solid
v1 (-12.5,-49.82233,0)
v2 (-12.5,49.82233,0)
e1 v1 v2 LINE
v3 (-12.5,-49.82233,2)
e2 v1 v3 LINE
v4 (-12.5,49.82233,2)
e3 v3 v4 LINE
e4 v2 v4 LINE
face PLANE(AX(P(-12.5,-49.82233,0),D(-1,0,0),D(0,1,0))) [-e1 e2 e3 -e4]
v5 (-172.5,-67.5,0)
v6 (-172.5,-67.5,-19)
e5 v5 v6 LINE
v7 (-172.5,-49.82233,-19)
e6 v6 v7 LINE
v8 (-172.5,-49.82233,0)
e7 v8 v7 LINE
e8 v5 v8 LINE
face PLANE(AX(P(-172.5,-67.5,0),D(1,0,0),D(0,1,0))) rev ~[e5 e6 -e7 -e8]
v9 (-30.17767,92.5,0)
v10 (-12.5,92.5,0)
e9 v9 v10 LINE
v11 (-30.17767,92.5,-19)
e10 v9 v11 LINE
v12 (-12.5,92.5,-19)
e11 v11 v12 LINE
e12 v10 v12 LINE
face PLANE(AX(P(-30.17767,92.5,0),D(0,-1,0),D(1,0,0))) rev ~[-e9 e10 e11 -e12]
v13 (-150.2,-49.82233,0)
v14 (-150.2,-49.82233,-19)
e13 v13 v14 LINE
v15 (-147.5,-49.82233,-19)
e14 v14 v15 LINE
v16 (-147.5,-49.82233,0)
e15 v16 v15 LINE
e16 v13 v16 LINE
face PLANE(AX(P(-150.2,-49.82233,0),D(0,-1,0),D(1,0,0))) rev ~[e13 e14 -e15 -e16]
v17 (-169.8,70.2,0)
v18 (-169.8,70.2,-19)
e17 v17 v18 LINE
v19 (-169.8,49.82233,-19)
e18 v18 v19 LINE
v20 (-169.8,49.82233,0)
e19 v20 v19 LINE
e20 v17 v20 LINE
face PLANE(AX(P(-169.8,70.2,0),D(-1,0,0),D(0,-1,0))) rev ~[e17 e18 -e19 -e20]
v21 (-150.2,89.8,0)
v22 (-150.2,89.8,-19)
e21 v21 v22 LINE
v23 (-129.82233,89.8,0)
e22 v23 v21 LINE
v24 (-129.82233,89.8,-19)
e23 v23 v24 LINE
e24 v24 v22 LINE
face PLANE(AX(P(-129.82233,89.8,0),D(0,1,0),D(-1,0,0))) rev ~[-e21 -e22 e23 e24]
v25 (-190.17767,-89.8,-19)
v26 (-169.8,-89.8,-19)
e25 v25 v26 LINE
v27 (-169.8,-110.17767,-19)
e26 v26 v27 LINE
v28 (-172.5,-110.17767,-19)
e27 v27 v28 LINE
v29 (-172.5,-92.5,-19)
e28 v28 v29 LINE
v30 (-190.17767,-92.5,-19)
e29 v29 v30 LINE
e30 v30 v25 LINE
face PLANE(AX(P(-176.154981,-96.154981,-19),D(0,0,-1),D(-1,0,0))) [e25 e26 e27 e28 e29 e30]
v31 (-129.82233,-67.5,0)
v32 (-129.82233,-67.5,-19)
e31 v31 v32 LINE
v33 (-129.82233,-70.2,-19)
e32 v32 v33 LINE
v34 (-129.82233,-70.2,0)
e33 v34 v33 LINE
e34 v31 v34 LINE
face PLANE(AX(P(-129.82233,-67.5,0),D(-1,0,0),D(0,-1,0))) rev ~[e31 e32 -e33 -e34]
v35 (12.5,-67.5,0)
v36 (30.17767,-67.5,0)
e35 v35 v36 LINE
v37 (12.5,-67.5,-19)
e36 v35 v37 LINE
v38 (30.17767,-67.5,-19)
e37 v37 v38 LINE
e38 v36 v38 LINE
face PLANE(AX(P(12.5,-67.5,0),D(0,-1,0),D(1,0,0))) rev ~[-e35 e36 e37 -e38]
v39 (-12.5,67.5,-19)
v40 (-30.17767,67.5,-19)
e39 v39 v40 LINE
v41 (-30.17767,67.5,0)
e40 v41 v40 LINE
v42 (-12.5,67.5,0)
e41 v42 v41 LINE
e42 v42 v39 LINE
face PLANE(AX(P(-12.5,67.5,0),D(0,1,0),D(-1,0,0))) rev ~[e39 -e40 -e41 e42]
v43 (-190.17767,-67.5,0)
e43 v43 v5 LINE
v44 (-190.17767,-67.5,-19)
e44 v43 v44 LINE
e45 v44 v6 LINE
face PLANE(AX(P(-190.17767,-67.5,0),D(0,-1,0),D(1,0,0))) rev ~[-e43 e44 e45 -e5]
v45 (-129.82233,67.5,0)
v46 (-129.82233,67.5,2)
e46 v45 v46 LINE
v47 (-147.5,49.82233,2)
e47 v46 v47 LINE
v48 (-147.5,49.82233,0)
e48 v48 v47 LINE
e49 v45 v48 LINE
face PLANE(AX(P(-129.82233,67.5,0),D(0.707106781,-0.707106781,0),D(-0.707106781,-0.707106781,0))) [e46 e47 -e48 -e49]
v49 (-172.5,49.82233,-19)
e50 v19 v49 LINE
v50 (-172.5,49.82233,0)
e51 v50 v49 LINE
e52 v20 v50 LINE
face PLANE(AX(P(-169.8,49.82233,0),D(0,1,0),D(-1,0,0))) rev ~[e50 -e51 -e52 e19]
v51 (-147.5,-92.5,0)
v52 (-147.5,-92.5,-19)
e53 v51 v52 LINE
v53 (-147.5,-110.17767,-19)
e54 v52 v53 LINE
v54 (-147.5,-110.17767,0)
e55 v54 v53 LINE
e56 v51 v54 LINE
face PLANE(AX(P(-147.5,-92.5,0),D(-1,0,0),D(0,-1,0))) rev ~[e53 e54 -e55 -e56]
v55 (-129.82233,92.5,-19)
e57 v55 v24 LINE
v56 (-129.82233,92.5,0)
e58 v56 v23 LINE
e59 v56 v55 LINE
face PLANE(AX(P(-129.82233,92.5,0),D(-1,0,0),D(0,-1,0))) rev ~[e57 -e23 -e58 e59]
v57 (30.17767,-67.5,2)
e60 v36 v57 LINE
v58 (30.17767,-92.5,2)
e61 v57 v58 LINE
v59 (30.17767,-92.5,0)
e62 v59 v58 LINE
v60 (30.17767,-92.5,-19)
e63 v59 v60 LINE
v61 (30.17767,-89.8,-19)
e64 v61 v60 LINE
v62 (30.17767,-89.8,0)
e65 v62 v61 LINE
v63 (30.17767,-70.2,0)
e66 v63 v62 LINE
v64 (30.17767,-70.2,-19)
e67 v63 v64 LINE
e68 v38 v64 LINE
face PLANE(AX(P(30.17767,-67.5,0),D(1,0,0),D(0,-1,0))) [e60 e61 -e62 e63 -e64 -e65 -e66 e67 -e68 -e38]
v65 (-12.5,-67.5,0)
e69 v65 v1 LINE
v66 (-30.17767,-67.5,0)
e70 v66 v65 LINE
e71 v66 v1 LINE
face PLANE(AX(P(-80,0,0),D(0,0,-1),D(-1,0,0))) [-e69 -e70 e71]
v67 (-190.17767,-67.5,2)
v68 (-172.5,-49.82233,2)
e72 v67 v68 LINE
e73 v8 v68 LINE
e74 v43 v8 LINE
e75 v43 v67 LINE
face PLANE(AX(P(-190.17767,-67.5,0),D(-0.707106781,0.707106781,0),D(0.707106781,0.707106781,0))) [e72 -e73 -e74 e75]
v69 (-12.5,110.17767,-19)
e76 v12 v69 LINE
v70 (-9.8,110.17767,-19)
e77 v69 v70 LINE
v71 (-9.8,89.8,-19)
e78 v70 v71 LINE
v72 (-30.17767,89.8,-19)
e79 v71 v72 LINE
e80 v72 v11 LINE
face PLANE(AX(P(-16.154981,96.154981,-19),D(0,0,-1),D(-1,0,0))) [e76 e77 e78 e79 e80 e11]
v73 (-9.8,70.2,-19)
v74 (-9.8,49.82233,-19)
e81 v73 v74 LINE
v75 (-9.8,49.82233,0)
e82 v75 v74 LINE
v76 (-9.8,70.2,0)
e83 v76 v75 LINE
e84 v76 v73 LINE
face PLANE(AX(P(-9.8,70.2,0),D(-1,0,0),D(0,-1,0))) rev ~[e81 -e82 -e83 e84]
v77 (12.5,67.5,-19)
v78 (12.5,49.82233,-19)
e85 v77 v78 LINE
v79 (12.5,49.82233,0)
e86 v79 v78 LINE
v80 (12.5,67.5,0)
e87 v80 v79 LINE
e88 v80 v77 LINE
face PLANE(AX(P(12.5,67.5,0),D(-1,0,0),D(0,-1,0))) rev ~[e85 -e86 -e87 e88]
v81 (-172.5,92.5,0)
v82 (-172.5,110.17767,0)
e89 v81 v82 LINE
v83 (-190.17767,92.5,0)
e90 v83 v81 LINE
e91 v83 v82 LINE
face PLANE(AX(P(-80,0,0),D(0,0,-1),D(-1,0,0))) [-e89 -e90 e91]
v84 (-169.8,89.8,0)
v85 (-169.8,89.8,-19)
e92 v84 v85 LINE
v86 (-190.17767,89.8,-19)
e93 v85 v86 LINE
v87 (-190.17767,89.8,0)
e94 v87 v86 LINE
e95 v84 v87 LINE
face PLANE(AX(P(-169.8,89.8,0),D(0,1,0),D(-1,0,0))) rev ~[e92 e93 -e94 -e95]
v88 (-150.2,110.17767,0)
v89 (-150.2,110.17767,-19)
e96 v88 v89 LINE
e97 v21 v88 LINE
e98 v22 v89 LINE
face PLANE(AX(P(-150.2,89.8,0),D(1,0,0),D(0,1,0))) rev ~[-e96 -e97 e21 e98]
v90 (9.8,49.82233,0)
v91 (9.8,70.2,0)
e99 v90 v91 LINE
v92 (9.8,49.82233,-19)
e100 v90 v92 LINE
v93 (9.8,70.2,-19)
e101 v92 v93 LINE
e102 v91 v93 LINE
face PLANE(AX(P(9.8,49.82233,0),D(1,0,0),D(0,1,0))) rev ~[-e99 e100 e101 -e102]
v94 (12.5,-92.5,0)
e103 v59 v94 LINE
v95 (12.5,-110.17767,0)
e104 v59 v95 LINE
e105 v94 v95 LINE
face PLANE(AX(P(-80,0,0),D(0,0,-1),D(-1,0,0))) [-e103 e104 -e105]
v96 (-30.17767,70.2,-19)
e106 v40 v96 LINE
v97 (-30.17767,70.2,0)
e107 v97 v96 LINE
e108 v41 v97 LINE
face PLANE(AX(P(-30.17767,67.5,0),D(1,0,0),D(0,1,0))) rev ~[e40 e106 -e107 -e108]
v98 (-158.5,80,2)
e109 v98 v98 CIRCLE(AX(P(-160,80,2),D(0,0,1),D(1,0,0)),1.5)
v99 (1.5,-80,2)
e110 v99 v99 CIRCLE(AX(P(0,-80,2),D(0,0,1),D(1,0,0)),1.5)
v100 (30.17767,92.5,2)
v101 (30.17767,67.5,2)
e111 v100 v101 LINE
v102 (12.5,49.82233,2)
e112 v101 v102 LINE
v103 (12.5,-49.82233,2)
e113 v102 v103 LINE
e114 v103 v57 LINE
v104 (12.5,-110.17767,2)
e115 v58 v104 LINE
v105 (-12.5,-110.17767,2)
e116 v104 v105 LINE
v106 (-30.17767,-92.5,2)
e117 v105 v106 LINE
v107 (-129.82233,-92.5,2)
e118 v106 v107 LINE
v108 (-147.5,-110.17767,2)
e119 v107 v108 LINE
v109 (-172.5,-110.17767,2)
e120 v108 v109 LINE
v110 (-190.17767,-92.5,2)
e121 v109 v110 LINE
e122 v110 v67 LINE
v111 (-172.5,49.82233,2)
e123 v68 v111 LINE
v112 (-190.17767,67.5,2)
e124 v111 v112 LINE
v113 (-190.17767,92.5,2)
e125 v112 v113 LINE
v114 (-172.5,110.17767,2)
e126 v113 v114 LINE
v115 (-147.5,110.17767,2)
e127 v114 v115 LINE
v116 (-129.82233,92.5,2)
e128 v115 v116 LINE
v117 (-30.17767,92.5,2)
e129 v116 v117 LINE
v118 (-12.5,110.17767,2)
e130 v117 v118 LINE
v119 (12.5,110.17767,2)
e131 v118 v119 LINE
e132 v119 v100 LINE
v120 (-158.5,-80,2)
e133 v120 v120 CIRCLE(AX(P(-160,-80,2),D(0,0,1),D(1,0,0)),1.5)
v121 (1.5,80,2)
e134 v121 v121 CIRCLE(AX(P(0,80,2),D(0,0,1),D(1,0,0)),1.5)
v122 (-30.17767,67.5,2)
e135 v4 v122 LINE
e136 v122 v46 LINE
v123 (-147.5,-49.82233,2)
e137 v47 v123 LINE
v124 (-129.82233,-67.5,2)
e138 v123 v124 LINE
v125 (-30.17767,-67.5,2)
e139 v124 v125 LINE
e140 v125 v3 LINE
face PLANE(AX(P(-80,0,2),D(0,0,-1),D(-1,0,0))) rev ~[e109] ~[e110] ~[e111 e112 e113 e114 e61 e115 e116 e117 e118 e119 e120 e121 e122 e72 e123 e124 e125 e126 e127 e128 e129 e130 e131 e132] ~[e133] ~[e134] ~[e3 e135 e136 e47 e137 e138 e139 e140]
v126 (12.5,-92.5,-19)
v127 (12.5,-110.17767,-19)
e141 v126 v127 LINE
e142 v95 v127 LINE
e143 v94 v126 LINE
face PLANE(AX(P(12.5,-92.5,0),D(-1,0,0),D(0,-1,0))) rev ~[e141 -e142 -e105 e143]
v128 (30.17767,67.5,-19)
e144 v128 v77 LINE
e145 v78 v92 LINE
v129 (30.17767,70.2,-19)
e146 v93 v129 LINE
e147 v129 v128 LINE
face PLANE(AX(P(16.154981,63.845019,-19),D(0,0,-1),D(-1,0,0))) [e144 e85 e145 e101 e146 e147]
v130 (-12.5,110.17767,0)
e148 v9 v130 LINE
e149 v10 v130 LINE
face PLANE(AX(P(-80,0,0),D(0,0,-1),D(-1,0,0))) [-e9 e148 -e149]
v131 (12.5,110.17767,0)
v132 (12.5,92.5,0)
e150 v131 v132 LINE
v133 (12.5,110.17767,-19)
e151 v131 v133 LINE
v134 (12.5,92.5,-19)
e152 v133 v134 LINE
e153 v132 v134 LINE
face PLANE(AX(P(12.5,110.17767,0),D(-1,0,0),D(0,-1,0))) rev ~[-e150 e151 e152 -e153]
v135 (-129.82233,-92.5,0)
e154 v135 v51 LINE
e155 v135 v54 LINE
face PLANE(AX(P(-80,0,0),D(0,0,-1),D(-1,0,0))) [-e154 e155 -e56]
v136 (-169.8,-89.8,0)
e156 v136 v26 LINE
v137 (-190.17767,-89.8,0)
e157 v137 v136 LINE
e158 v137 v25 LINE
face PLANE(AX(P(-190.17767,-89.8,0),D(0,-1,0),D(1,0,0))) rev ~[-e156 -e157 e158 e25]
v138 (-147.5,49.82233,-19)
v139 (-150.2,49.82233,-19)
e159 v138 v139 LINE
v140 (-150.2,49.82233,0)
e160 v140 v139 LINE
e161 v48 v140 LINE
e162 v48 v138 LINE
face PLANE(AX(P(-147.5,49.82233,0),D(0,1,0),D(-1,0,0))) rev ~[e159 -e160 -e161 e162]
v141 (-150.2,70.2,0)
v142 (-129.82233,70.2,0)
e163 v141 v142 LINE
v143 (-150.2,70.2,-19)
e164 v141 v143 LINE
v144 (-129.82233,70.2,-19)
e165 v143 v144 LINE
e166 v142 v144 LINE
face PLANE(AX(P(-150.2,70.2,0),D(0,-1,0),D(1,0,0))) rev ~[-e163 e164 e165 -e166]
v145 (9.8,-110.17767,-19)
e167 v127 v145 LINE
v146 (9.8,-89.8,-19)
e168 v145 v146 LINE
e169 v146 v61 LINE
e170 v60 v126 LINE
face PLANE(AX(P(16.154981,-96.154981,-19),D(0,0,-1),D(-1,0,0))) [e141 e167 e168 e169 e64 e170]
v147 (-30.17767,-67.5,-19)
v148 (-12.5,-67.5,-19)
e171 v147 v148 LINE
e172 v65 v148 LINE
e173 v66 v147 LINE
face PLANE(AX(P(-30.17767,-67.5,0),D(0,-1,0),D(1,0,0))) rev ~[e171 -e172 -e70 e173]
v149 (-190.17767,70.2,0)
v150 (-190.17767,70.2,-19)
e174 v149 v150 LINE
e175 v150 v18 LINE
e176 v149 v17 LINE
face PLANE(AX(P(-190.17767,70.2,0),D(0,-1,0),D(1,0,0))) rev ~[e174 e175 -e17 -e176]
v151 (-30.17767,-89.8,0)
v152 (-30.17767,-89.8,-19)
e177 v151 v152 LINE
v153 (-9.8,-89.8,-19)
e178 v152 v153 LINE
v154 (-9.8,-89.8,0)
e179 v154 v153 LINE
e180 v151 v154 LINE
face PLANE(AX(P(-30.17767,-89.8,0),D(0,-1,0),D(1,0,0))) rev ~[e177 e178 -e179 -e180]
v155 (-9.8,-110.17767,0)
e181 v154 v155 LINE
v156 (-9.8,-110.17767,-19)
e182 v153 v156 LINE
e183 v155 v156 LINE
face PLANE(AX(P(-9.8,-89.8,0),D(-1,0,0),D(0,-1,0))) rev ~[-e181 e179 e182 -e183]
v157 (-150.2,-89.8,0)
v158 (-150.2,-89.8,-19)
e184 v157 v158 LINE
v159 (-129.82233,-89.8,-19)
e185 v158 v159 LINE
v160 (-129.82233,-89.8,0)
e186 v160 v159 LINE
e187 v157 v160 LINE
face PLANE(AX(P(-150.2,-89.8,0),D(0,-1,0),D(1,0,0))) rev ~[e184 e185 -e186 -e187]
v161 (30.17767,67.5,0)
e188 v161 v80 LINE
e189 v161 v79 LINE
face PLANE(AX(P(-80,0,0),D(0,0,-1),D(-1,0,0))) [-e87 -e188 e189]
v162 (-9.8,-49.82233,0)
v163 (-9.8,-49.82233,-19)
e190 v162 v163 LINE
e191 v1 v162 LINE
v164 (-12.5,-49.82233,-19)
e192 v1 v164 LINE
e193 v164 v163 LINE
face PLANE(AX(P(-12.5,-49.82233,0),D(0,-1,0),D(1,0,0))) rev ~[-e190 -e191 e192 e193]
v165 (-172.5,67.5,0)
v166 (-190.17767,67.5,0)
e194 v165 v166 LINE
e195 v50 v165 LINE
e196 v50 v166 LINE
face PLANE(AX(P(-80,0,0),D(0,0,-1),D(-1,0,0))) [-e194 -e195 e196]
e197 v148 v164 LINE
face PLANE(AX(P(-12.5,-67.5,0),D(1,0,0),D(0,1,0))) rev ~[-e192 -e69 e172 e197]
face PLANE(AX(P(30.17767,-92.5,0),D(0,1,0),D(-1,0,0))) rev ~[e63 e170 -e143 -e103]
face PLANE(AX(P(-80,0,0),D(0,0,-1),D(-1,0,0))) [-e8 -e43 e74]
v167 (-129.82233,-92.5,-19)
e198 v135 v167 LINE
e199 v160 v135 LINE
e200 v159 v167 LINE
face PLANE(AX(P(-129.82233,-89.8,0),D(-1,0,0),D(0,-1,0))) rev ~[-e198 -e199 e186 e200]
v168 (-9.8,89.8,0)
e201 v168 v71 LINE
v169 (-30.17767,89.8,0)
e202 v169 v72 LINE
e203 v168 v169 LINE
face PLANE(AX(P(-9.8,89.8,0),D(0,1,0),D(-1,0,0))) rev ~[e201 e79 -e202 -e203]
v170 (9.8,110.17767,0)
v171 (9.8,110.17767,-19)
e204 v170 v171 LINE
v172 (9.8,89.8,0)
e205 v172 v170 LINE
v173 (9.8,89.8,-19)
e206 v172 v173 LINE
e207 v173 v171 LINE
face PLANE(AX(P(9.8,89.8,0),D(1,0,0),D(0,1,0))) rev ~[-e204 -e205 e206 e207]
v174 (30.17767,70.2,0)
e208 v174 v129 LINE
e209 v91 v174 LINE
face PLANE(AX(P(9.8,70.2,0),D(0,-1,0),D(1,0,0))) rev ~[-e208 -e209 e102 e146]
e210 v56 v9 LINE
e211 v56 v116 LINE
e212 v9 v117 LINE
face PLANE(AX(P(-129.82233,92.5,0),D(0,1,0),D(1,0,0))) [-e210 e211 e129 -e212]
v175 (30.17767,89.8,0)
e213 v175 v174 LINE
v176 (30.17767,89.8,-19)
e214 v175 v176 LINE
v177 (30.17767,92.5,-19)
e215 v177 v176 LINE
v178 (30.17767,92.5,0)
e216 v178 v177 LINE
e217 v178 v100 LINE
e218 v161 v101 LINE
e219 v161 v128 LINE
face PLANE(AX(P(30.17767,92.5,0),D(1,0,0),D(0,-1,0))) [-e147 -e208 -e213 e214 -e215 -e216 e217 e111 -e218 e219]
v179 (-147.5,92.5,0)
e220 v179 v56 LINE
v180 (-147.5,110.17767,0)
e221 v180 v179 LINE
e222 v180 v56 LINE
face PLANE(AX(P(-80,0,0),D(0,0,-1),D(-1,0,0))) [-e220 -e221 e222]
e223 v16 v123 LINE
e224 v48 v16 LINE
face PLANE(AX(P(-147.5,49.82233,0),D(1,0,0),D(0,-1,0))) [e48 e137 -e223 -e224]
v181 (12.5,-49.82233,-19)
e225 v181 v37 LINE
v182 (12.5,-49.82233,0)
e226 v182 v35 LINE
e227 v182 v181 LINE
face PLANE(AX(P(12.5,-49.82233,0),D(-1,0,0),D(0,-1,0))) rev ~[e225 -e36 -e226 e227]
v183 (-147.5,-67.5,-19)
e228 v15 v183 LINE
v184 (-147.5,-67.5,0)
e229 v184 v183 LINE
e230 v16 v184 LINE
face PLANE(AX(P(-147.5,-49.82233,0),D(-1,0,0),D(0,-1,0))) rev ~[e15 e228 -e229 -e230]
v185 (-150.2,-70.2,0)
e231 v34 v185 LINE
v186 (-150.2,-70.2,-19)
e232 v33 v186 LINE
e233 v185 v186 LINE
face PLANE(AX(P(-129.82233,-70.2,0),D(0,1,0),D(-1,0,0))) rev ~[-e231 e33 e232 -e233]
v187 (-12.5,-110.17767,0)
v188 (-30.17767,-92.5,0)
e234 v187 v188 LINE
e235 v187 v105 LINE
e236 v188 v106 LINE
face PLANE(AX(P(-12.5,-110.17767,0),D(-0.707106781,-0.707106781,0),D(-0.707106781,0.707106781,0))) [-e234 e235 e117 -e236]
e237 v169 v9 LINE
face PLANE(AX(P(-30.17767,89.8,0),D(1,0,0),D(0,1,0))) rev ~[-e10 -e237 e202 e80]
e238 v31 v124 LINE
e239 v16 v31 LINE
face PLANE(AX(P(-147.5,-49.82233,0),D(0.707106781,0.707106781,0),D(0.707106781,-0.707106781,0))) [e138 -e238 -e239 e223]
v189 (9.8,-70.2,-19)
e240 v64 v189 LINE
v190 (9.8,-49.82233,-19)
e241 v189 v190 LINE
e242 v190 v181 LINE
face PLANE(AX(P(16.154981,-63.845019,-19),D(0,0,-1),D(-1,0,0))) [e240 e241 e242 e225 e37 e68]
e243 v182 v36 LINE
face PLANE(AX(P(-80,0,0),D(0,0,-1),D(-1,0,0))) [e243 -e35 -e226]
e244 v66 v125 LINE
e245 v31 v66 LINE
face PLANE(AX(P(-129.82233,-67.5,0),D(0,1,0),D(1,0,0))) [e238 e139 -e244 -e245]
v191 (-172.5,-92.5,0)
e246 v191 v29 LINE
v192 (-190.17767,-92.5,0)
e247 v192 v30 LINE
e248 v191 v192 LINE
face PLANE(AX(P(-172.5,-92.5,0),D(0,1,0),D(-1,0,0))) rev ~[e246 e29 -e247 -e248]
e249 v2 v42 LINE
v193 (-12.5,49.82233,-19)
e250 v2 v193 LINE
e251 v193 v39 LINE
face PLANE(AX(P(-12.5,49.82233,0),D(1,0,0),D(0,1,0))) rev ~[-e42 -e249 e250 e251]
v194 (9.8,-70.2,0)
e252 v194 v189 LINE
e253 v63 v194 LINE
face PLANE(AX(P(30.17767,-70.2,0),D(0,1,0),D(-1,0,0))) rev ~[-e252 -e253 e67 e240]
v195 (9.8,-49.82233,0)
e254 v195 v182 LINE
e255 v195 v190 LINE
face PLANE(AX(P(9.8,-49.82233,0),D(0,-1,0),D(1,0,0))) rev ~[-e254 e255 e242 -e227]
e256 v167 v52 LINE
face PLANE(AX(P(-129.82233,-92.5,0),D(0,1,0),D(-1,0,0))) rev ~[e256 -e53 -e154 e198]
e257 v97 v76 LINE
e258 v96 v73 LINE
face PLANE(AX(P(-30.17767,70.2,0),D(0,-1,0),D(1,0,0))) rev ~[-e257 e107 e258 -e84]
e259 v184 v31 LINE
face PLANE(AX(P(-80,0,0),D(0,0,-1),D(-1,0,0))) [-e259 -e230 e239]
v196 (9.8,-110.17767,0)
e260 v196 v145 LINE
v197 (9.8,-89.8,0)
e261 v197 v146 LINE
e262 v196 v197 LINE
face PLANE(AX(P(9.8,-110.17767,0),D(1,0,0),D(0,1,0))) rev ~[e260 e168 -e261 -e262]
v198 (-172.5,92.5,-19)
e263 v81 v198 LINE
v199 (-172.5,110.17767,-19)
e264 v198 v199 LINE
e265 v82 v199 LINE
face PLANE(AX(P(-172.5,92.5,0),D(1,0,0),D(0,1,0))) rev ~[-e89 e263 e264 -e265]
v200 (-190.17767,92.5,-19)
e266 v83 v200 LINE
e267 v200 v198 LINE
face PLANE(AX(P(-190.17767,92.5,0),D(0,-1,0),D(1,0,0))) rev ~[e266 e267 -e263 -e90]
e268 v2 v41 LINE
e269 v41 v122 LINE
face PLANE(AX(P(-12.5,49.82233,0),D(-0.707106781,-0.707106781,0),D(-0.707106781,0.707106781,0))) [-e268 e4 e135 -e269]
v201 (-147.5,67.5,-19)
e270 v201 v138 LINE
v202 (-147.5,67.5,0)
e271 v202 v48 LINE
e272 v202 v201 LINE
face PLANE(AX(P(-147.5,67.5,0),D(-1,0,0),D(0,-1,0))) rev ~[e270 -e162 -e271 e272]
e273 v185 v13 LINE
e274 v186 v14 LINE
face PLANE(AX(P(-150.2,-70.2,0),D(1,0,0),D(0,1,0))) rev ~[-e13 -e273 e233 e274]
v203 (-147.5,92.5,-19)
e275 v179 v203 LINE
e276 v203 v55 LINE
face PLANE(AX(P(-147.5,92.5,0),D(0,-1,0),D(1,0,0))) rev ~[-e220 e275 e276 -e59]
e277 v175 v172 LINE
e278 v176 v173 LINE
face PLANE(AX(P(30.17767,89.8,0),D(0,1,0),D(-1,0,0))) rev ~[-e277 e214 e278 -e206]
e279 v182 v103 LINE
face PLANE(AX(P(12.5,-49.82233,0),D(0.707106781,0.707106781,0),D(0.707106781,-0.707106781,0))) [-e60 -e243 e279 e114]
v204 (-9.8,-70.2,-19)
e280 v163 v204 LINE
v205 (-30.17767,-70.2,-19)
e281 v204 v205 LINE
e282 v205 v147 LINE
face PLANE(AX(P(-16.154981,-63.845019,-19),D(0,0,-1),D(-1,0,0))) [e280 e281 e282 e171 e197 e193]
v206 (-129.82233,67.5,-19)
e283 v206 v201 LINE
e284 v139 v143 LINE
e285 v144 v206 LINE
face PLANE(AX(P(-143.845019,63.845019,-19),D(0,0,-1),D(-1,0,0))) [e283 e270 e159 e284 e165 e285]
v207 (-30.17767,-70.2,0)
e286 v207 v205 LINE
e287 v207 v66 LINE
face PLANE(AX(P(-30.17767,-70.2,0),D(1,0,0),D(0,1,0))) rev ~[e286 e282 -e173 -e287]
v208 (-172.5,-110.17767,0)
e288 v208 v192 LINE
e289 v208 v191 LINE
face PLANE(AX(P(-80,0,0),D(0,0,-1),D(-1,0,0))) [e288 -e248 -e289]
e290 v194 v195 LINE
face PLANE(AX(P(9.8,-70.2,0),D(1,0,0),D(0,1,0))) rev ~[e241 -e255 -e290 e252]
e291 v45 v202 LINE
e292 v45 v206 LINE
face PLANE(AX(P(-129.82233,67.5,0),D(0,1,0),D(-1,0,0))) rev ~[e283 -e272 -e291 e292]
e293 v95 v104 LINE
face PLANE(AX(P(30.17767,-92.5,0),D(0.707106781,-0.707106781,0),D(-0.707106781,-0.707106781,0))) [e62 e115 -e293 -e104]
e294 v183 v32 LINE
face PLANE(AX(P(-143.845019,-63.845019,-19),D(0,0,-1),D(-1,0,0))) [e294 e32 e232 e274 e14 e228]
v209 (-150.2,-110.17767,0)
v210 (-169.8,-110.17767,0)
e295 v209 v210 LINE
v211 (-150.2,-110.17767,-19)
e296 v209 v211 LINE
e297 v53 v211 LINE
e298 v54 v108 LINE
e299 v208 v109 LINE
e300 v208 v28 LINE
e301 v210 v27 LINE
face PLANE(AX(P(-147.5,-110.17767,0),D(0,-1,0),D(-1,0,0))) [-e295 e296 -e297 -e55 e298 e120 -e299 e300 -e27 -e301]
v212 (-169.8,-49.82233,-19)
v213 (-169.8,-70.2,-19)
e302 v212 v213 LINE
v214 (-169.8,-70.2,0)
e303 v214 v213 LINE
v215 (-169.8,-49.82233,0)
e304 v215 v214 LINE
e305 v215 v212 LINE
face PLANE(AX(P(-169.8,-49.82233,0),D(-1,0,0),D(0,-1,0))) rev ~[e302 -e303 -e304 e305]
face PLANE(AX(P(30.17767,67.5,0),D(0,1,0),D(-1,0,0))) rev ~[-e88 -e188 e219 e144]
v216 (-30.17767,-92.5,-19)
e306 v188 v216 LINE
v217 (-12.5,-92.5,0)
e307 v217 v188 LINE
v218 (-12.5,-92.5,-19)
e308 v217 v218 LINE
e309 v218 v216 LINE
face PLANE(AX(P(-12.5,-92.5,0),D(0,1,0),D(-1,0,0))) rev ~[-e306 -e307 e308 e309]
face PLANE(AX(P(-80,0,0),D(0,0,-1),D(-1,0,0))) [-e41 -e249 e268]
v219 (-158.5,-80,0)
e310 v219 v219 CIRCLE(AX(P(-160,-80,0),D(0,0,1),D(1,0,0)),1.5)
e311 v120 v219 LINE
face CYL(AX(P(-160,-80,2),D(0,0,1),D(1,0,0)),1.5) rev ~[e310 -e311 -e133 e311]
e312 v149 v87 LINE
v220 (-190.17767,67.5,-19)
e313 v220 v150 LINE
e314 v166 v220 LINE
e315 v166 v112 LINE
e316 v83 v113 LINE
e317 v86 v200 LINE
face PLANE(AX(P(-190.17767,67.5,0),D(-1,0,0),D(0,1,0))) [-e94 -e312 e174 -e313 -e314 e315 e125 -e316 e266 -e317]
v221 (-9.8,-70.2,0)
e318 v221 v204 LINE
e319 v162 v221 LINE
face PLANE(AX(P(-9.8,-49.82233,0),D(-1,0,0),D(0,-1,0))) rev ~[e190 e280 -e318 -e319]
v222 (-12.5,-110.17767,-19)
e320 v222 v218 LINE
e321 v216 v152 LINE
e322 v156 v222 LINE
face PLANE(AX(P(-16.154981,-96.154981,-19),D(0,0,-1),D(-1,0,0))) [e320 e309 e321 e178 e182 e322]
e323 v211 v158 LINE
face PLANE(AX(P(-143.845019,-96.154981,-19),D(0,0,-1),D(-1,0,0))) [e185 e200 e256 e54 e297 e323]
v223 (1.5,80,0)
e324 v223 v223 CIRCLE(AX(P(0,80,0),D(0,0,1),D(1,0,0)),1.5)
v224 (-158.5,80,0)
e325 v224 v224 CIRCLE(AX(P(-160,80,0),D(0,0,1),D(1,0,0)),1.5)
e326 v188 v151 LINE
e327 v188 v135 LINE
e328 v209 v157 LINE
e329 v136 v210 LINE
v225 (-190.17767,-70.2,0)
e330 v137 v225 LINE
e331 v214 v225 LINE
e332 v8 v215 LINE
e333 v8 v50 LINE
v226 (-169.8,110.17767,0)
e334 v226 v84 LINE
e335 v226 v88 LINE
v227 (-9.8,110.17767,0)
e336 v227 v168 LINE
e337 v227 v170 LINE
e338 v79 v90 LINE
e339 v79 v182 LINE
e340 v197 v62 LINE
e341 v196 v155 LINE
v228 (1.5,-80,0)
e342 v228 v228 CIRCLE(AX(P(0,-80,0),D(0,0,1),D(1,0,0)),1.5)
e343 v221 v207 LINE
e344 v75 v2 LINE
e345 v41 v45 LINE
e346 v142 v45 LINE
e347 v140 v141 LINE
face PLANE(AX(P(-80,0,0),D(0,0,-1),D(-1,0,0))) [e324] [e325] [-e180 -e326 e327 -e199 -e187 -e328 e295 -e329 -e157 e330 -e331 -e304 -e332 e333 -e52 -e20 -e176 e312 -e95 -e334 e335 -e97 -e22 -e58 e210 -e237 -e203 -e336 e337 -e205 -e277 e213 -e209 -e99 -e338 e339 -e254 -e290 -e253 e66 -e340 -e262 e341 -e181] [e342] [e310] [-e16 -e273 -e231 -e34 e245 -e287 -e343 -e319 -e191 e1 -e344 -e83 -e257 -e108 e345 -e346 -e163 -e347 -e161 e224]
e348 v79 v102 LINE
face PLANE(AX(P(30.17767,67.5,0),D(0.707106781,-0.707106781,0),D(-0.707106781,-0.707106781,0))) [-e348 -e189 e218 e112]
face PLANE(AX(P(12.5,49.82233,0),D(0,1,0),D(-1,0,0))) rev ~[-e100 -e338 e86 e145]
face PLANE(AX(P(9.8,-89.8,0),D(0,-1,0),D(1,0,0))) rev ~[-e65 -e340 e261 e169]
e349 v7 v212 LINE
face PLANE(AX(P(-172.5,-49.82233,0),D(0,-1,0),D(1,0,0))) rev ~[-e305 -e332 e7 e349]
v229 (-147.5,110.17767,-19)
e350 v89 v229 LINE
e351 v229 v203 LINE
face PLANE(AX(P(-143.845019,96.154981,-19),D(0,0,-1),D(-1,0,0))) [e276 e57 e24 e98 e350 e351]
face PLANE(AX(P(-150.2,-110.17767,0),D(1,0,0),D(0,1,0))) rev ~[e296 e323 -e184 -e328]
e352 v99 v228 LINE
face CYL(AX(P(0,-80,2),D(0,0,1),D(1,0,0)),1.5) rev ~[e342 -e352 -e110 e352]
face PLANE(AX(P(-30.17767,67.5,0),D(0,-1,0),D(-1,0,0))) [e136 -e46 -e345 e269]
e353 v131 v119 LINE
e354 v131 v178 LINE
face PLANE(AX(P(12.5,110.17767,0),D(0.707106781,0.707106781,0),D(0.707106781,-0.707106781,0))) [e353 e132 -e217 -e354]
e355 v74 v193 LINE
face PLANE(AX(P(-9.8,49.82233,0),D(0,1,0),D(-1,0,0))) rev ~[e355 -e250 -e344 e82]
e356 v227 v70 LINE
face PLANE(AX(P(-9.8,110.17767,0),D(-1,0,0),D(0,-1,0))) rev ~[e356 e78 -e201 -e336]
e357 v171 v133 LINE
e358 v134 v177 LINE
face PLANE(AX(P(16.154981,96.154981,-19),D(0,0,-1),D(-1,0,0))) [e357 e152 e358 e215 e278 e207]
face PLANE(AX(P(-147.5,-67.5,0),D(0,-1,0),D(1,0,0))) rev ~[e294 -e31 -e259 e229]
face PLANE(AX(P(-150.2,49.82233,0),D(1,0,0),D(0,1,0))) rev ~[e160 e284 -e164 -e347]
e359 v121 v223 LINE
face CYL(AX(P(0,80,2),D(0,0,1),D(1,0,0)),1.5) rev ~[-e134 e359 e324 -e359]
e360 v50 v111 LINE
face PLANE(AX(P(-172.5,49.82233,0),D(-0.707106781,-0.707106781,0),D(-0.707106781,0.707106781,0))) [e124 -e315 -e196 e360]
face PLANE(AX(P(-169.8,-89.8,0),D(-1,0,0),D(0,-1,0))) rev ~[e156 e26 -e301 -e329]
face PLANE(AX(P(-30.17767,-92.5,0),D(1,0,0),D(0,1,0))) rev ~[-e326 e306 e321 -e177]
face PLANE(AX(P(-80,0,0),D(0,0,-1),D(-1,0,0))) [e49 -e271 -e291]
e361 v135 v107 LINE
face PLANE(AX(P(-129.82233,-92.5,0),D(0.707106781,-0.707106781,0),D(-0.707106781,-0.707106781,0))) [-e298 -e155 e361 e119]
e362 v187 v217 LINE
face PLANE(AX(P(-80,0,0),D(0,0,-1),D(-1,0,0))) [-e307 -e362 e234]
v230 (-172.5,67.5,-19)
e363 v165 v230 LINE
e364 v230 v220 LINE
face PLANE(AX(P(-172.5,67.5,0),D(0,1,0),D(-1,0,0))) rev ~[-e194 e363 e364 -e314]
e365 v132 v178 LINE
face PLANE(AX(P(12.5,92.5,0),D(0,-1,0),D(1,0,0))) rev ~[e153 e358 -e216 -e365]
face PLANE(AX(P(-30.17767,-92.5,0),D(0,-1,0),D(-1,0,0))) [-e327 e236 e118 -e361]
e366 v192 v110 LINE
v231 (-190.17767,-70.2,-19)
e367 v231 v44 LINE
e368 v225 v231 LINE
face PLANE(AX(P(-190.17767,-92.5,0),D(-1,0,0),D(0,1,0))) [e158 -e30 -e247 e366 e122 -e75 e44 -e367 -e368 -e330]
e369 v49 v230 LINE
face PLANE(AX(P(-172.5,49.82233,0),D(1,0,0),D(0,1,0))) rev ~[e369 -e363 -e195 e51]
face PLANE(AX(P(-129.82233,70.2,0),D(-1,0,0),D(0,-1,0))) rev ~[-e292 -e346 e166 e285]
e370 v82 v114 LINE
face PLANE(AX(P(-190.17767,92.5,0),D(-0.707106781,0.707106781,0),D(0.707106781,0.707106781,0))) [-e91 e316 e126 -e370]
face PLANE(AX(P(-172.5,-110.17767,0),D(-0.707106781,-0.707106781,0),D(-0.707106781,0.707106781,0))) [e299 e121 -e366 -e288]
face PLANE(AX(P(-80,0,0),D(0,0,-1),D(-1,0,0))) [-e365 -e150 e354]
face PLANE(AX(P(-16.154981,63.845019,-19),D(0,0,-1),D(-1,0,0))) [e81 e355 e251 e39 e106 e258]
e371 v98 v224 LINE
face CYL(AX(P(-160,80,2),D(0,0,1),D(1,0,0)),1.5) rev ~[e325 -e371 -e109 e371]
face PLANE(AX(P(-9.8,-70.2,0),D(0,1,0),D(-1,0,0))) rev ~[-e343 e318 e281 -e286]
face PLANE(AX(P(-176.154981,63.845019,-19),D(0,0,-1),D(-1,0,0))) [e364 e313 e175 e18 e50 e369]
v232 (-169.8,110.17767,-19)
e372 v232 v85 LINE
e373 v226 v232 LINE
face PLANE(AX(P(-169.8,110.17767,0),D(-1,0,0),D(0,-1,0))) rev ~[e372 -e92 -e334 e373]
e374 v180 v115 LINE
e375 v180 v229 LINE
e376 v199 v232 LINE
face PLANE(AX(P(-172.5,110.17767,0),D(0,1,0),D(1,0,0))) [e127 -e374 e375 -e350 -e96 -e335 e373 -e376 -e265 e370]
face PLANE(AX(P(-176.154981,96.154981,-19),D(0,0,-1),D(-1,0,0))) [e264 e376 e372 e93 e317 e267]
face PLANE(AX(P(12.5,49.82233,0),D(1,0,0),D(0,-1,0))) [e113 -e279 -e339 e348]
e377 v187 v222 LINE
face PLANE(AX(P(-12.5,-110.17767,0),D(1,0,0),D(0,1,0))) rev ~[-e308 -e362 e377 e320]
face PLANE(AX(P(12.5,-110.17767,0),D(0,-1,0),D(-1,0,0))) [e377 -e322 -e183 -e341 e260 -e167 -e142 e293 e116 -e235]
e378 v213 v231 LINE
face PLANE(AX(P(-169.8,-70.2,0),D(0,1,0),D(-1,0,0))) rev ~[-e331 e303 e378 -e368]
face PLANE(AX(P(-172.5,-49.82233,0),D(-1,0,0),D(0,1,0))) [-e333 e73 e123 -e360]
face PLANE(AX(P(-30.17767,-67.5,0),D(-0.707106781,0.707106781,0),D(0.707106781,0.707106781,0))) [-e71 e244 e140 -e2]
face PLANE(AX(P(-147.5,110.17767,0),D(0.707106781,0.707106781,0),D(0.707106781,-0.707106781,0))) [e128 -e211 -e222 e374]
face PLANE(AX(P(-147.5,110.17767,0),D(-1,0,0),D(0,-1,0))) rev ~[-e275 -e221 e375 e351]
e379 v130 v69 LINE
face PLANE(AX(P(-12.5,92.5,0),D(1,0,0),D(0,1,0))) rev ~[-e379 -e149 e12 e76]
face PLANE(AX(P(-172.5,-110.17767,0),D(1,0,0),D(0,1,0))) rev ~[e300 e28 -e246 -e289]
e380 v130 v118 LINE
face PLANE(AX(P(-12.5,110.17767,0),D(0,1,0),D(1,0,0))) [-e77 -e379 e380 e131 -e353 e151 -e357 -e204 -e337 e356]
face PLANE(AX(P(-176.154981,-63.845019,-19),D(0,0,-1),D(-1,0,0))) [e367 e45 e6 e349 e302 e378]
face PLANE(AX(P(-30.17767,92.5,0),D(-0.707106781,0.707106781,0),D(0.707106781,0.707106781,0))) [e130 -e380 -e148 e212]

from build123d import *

# Parameters (mm, degrees)
BOSS_EXTRUDE1_DEPTH = 2
BOSS_EXTRUDE2_DEPTH = 19
SKETCH6_R           = 1.5
CUT_EXTRUDE1_DEPTH  = 221.788733523


with BuildPart() as part:
    # Sketch1 → Boss-Extrude1 (new body)
    with BuildSketch(Plane.XY):
        Polygon((12.5, -110.17766953), (-12.5, -110.17766953), (-30.17766953, -92.5), (-129.82233047, -92.5), (-147.5, -110.17766953), (-172.5, -110.17766953), (-190.17766953, -92.5), (-190.17766953, -67.5), (-172.5, -49.82233047), (-172.5, 49.82233047), (-190.17766953, 67.5), (-190.17766953, 92.5), (-172.5, 110.17766953), (-147.5, 110.17766953), (-129.82233047, 92.5), (-30.17766953, 92.5), (-12.5, 110.17766953), (12.5, 110.17766953), (30.17766953, 92.5), (30.17766953, 67.5), (12.5, 49.82233047), (12.5, -49.82233047), (30.17766953, -67.5), (30.17766953, -92.5), align=None)
        Polygon((-30.17766953, -67.5), (-12.5, -49.82233047), (-12.5, 49.82233047), (-30.17766953, 67.5), (-129.82233047, 67.5), (-147.5, 49.82233047), (-147.5, -49.82233047), (-129.82233047, -67.5), align=None, mode=Mode.SUBTRACT)
    extrude(amount=BOSS_EXTRUDE1_DEPTH)

    # Sketch2 → Boss-Extrude2 (add)
    with BuildSketch(Plane(origin=(0, 0, 0), x_dir=(-1, 0, 0), z_dir=(0, 0, -1))):
        Polygon((30.17766953, -67.5), (12.5, -67.5), (12.5, -49.82233047), (9.8, -49.82233047), (9.8, -70.2), (30.17766953, -70.2), align=None)
        Polygon((12.5, -92.5), (30.17766953, -92.5), (30.17766953, -89.8), (9.8, -89.8), (9.8, -110.17766953), (12.5, -110.17766953), align=None)
        Polygon((-12.5, -92.5), (-12.5, -110.17766953), (-9.8, -110.17766953), (-9.8, -89.8), (-30.17766953, -89.8), (-30.17766953, -92.5), align=None)
        Polygon((-12.5, -67.5), (-30.17766953, -67.5), (-30.17766953, -70.2), (-9.8, -70.2), (-9.8, -49.82233047), (-12.5, -49.82233047), align=None)
        Polygon((190.17766953, -67.5), (172.5, -67.5), (172.5, -49.82233047), (169.8, -49.82233047), (169.8, -70.2), (190.17766953, -70.2), align=None)
        Polygon((172.5, -92.5), (190.17766953, -92.5), (190.17766953, -89.8), (169.8, -89.8), (169.8, -110.17766953), (172.5, -110.17766953), align=None)
        Polygon((147.5, -92.5), (147.5, -110.17766953), (150.2, -110.17766953), (150.2, -89.8), (129.82233047, -89.8), (129.82233047, -92.5), align=None)
        Polygon((147.5, -67.5), (129.82233047, -67.5), (129.82233047, -70.2), (150.2, -70.2), (150.2, -49.82233047), (147.5, -49.82233047), align=None)
        Polygon((190.17766953, 92.5), (172.5, 92.5), (172.5, 110.17766953), (169.8, 110.17766953), (169.8, 89.8), (190.17766953, 89.8), align=None)
        Polygon((172.5, 67.5), (190.17766953, 67.5), (190.17766953, 70.2), (169.8, 70.2), (169.8, 49.82233047), (172.5, 49.82233047), align=None)
        Polygon((147.5, 67.5), (147.5, 49.82233047), (150.2, 49.82233047), (150.2, 70.2), (129.82233047, 70.2), (129.82233047, 67.5), align=None)
        Polygon((147.5, 92.5), (129.82233047, 92.5), (129.82233047, 89.8), (150.2, 89.8), (150.2, 110.17766953), (147.5, 110.17766953), align=None)
        Polygon((30.17766953, 92.5), (12.5, 92.5), (12.5, 110.17766953), (9.8, 110.17766953), (9.8, 89.8), (30.17766953, 89.8), align=None)
        Polygon((12.5, 67.5), (30.17766953, 67.5), (30.17766953, 70.2), (9.8, 70.2), (9.8, 49.82233047), (12.5, 49.82233047), align=None)
        Polygon((-12.5, 67.5), (-12.5, 49.82233047), (-9.8, 49.82233047), (-9.8, 70.2), (-30.17766953, 70.2), (-30.17766953, 67.5), align=None)
        Polygon((-12.5, 92.5), (-30.17766953, 92.5), (-30.17766953, 89.8), (-9.8, 89.8), (-9.8, 110.17766953), (-12.5, 110.17766953), align=None)
    extrude(amount=BOSS_EXTRUDE2_DEPTH)

    # Sketch6 → Cut-Extrude1 (cut, through all)
    with BuildSketch(Plane.XY.offset(2)):
        with Locations((-160, 80)):
            Circle(SKETCH6_R)
        with Locations((0, 80)):
            Circle(SKETCH6_R)
        with Locations((-160, -80)):
            Circle(SKETCH6_R)
        with Locations((0, -80)):
            Circle(SKETCH6_R)
    extrude(amount=-CUT_EXTRUDE1_DEPTH, mode=Mode.SUBTRACT)


solid = part.part
